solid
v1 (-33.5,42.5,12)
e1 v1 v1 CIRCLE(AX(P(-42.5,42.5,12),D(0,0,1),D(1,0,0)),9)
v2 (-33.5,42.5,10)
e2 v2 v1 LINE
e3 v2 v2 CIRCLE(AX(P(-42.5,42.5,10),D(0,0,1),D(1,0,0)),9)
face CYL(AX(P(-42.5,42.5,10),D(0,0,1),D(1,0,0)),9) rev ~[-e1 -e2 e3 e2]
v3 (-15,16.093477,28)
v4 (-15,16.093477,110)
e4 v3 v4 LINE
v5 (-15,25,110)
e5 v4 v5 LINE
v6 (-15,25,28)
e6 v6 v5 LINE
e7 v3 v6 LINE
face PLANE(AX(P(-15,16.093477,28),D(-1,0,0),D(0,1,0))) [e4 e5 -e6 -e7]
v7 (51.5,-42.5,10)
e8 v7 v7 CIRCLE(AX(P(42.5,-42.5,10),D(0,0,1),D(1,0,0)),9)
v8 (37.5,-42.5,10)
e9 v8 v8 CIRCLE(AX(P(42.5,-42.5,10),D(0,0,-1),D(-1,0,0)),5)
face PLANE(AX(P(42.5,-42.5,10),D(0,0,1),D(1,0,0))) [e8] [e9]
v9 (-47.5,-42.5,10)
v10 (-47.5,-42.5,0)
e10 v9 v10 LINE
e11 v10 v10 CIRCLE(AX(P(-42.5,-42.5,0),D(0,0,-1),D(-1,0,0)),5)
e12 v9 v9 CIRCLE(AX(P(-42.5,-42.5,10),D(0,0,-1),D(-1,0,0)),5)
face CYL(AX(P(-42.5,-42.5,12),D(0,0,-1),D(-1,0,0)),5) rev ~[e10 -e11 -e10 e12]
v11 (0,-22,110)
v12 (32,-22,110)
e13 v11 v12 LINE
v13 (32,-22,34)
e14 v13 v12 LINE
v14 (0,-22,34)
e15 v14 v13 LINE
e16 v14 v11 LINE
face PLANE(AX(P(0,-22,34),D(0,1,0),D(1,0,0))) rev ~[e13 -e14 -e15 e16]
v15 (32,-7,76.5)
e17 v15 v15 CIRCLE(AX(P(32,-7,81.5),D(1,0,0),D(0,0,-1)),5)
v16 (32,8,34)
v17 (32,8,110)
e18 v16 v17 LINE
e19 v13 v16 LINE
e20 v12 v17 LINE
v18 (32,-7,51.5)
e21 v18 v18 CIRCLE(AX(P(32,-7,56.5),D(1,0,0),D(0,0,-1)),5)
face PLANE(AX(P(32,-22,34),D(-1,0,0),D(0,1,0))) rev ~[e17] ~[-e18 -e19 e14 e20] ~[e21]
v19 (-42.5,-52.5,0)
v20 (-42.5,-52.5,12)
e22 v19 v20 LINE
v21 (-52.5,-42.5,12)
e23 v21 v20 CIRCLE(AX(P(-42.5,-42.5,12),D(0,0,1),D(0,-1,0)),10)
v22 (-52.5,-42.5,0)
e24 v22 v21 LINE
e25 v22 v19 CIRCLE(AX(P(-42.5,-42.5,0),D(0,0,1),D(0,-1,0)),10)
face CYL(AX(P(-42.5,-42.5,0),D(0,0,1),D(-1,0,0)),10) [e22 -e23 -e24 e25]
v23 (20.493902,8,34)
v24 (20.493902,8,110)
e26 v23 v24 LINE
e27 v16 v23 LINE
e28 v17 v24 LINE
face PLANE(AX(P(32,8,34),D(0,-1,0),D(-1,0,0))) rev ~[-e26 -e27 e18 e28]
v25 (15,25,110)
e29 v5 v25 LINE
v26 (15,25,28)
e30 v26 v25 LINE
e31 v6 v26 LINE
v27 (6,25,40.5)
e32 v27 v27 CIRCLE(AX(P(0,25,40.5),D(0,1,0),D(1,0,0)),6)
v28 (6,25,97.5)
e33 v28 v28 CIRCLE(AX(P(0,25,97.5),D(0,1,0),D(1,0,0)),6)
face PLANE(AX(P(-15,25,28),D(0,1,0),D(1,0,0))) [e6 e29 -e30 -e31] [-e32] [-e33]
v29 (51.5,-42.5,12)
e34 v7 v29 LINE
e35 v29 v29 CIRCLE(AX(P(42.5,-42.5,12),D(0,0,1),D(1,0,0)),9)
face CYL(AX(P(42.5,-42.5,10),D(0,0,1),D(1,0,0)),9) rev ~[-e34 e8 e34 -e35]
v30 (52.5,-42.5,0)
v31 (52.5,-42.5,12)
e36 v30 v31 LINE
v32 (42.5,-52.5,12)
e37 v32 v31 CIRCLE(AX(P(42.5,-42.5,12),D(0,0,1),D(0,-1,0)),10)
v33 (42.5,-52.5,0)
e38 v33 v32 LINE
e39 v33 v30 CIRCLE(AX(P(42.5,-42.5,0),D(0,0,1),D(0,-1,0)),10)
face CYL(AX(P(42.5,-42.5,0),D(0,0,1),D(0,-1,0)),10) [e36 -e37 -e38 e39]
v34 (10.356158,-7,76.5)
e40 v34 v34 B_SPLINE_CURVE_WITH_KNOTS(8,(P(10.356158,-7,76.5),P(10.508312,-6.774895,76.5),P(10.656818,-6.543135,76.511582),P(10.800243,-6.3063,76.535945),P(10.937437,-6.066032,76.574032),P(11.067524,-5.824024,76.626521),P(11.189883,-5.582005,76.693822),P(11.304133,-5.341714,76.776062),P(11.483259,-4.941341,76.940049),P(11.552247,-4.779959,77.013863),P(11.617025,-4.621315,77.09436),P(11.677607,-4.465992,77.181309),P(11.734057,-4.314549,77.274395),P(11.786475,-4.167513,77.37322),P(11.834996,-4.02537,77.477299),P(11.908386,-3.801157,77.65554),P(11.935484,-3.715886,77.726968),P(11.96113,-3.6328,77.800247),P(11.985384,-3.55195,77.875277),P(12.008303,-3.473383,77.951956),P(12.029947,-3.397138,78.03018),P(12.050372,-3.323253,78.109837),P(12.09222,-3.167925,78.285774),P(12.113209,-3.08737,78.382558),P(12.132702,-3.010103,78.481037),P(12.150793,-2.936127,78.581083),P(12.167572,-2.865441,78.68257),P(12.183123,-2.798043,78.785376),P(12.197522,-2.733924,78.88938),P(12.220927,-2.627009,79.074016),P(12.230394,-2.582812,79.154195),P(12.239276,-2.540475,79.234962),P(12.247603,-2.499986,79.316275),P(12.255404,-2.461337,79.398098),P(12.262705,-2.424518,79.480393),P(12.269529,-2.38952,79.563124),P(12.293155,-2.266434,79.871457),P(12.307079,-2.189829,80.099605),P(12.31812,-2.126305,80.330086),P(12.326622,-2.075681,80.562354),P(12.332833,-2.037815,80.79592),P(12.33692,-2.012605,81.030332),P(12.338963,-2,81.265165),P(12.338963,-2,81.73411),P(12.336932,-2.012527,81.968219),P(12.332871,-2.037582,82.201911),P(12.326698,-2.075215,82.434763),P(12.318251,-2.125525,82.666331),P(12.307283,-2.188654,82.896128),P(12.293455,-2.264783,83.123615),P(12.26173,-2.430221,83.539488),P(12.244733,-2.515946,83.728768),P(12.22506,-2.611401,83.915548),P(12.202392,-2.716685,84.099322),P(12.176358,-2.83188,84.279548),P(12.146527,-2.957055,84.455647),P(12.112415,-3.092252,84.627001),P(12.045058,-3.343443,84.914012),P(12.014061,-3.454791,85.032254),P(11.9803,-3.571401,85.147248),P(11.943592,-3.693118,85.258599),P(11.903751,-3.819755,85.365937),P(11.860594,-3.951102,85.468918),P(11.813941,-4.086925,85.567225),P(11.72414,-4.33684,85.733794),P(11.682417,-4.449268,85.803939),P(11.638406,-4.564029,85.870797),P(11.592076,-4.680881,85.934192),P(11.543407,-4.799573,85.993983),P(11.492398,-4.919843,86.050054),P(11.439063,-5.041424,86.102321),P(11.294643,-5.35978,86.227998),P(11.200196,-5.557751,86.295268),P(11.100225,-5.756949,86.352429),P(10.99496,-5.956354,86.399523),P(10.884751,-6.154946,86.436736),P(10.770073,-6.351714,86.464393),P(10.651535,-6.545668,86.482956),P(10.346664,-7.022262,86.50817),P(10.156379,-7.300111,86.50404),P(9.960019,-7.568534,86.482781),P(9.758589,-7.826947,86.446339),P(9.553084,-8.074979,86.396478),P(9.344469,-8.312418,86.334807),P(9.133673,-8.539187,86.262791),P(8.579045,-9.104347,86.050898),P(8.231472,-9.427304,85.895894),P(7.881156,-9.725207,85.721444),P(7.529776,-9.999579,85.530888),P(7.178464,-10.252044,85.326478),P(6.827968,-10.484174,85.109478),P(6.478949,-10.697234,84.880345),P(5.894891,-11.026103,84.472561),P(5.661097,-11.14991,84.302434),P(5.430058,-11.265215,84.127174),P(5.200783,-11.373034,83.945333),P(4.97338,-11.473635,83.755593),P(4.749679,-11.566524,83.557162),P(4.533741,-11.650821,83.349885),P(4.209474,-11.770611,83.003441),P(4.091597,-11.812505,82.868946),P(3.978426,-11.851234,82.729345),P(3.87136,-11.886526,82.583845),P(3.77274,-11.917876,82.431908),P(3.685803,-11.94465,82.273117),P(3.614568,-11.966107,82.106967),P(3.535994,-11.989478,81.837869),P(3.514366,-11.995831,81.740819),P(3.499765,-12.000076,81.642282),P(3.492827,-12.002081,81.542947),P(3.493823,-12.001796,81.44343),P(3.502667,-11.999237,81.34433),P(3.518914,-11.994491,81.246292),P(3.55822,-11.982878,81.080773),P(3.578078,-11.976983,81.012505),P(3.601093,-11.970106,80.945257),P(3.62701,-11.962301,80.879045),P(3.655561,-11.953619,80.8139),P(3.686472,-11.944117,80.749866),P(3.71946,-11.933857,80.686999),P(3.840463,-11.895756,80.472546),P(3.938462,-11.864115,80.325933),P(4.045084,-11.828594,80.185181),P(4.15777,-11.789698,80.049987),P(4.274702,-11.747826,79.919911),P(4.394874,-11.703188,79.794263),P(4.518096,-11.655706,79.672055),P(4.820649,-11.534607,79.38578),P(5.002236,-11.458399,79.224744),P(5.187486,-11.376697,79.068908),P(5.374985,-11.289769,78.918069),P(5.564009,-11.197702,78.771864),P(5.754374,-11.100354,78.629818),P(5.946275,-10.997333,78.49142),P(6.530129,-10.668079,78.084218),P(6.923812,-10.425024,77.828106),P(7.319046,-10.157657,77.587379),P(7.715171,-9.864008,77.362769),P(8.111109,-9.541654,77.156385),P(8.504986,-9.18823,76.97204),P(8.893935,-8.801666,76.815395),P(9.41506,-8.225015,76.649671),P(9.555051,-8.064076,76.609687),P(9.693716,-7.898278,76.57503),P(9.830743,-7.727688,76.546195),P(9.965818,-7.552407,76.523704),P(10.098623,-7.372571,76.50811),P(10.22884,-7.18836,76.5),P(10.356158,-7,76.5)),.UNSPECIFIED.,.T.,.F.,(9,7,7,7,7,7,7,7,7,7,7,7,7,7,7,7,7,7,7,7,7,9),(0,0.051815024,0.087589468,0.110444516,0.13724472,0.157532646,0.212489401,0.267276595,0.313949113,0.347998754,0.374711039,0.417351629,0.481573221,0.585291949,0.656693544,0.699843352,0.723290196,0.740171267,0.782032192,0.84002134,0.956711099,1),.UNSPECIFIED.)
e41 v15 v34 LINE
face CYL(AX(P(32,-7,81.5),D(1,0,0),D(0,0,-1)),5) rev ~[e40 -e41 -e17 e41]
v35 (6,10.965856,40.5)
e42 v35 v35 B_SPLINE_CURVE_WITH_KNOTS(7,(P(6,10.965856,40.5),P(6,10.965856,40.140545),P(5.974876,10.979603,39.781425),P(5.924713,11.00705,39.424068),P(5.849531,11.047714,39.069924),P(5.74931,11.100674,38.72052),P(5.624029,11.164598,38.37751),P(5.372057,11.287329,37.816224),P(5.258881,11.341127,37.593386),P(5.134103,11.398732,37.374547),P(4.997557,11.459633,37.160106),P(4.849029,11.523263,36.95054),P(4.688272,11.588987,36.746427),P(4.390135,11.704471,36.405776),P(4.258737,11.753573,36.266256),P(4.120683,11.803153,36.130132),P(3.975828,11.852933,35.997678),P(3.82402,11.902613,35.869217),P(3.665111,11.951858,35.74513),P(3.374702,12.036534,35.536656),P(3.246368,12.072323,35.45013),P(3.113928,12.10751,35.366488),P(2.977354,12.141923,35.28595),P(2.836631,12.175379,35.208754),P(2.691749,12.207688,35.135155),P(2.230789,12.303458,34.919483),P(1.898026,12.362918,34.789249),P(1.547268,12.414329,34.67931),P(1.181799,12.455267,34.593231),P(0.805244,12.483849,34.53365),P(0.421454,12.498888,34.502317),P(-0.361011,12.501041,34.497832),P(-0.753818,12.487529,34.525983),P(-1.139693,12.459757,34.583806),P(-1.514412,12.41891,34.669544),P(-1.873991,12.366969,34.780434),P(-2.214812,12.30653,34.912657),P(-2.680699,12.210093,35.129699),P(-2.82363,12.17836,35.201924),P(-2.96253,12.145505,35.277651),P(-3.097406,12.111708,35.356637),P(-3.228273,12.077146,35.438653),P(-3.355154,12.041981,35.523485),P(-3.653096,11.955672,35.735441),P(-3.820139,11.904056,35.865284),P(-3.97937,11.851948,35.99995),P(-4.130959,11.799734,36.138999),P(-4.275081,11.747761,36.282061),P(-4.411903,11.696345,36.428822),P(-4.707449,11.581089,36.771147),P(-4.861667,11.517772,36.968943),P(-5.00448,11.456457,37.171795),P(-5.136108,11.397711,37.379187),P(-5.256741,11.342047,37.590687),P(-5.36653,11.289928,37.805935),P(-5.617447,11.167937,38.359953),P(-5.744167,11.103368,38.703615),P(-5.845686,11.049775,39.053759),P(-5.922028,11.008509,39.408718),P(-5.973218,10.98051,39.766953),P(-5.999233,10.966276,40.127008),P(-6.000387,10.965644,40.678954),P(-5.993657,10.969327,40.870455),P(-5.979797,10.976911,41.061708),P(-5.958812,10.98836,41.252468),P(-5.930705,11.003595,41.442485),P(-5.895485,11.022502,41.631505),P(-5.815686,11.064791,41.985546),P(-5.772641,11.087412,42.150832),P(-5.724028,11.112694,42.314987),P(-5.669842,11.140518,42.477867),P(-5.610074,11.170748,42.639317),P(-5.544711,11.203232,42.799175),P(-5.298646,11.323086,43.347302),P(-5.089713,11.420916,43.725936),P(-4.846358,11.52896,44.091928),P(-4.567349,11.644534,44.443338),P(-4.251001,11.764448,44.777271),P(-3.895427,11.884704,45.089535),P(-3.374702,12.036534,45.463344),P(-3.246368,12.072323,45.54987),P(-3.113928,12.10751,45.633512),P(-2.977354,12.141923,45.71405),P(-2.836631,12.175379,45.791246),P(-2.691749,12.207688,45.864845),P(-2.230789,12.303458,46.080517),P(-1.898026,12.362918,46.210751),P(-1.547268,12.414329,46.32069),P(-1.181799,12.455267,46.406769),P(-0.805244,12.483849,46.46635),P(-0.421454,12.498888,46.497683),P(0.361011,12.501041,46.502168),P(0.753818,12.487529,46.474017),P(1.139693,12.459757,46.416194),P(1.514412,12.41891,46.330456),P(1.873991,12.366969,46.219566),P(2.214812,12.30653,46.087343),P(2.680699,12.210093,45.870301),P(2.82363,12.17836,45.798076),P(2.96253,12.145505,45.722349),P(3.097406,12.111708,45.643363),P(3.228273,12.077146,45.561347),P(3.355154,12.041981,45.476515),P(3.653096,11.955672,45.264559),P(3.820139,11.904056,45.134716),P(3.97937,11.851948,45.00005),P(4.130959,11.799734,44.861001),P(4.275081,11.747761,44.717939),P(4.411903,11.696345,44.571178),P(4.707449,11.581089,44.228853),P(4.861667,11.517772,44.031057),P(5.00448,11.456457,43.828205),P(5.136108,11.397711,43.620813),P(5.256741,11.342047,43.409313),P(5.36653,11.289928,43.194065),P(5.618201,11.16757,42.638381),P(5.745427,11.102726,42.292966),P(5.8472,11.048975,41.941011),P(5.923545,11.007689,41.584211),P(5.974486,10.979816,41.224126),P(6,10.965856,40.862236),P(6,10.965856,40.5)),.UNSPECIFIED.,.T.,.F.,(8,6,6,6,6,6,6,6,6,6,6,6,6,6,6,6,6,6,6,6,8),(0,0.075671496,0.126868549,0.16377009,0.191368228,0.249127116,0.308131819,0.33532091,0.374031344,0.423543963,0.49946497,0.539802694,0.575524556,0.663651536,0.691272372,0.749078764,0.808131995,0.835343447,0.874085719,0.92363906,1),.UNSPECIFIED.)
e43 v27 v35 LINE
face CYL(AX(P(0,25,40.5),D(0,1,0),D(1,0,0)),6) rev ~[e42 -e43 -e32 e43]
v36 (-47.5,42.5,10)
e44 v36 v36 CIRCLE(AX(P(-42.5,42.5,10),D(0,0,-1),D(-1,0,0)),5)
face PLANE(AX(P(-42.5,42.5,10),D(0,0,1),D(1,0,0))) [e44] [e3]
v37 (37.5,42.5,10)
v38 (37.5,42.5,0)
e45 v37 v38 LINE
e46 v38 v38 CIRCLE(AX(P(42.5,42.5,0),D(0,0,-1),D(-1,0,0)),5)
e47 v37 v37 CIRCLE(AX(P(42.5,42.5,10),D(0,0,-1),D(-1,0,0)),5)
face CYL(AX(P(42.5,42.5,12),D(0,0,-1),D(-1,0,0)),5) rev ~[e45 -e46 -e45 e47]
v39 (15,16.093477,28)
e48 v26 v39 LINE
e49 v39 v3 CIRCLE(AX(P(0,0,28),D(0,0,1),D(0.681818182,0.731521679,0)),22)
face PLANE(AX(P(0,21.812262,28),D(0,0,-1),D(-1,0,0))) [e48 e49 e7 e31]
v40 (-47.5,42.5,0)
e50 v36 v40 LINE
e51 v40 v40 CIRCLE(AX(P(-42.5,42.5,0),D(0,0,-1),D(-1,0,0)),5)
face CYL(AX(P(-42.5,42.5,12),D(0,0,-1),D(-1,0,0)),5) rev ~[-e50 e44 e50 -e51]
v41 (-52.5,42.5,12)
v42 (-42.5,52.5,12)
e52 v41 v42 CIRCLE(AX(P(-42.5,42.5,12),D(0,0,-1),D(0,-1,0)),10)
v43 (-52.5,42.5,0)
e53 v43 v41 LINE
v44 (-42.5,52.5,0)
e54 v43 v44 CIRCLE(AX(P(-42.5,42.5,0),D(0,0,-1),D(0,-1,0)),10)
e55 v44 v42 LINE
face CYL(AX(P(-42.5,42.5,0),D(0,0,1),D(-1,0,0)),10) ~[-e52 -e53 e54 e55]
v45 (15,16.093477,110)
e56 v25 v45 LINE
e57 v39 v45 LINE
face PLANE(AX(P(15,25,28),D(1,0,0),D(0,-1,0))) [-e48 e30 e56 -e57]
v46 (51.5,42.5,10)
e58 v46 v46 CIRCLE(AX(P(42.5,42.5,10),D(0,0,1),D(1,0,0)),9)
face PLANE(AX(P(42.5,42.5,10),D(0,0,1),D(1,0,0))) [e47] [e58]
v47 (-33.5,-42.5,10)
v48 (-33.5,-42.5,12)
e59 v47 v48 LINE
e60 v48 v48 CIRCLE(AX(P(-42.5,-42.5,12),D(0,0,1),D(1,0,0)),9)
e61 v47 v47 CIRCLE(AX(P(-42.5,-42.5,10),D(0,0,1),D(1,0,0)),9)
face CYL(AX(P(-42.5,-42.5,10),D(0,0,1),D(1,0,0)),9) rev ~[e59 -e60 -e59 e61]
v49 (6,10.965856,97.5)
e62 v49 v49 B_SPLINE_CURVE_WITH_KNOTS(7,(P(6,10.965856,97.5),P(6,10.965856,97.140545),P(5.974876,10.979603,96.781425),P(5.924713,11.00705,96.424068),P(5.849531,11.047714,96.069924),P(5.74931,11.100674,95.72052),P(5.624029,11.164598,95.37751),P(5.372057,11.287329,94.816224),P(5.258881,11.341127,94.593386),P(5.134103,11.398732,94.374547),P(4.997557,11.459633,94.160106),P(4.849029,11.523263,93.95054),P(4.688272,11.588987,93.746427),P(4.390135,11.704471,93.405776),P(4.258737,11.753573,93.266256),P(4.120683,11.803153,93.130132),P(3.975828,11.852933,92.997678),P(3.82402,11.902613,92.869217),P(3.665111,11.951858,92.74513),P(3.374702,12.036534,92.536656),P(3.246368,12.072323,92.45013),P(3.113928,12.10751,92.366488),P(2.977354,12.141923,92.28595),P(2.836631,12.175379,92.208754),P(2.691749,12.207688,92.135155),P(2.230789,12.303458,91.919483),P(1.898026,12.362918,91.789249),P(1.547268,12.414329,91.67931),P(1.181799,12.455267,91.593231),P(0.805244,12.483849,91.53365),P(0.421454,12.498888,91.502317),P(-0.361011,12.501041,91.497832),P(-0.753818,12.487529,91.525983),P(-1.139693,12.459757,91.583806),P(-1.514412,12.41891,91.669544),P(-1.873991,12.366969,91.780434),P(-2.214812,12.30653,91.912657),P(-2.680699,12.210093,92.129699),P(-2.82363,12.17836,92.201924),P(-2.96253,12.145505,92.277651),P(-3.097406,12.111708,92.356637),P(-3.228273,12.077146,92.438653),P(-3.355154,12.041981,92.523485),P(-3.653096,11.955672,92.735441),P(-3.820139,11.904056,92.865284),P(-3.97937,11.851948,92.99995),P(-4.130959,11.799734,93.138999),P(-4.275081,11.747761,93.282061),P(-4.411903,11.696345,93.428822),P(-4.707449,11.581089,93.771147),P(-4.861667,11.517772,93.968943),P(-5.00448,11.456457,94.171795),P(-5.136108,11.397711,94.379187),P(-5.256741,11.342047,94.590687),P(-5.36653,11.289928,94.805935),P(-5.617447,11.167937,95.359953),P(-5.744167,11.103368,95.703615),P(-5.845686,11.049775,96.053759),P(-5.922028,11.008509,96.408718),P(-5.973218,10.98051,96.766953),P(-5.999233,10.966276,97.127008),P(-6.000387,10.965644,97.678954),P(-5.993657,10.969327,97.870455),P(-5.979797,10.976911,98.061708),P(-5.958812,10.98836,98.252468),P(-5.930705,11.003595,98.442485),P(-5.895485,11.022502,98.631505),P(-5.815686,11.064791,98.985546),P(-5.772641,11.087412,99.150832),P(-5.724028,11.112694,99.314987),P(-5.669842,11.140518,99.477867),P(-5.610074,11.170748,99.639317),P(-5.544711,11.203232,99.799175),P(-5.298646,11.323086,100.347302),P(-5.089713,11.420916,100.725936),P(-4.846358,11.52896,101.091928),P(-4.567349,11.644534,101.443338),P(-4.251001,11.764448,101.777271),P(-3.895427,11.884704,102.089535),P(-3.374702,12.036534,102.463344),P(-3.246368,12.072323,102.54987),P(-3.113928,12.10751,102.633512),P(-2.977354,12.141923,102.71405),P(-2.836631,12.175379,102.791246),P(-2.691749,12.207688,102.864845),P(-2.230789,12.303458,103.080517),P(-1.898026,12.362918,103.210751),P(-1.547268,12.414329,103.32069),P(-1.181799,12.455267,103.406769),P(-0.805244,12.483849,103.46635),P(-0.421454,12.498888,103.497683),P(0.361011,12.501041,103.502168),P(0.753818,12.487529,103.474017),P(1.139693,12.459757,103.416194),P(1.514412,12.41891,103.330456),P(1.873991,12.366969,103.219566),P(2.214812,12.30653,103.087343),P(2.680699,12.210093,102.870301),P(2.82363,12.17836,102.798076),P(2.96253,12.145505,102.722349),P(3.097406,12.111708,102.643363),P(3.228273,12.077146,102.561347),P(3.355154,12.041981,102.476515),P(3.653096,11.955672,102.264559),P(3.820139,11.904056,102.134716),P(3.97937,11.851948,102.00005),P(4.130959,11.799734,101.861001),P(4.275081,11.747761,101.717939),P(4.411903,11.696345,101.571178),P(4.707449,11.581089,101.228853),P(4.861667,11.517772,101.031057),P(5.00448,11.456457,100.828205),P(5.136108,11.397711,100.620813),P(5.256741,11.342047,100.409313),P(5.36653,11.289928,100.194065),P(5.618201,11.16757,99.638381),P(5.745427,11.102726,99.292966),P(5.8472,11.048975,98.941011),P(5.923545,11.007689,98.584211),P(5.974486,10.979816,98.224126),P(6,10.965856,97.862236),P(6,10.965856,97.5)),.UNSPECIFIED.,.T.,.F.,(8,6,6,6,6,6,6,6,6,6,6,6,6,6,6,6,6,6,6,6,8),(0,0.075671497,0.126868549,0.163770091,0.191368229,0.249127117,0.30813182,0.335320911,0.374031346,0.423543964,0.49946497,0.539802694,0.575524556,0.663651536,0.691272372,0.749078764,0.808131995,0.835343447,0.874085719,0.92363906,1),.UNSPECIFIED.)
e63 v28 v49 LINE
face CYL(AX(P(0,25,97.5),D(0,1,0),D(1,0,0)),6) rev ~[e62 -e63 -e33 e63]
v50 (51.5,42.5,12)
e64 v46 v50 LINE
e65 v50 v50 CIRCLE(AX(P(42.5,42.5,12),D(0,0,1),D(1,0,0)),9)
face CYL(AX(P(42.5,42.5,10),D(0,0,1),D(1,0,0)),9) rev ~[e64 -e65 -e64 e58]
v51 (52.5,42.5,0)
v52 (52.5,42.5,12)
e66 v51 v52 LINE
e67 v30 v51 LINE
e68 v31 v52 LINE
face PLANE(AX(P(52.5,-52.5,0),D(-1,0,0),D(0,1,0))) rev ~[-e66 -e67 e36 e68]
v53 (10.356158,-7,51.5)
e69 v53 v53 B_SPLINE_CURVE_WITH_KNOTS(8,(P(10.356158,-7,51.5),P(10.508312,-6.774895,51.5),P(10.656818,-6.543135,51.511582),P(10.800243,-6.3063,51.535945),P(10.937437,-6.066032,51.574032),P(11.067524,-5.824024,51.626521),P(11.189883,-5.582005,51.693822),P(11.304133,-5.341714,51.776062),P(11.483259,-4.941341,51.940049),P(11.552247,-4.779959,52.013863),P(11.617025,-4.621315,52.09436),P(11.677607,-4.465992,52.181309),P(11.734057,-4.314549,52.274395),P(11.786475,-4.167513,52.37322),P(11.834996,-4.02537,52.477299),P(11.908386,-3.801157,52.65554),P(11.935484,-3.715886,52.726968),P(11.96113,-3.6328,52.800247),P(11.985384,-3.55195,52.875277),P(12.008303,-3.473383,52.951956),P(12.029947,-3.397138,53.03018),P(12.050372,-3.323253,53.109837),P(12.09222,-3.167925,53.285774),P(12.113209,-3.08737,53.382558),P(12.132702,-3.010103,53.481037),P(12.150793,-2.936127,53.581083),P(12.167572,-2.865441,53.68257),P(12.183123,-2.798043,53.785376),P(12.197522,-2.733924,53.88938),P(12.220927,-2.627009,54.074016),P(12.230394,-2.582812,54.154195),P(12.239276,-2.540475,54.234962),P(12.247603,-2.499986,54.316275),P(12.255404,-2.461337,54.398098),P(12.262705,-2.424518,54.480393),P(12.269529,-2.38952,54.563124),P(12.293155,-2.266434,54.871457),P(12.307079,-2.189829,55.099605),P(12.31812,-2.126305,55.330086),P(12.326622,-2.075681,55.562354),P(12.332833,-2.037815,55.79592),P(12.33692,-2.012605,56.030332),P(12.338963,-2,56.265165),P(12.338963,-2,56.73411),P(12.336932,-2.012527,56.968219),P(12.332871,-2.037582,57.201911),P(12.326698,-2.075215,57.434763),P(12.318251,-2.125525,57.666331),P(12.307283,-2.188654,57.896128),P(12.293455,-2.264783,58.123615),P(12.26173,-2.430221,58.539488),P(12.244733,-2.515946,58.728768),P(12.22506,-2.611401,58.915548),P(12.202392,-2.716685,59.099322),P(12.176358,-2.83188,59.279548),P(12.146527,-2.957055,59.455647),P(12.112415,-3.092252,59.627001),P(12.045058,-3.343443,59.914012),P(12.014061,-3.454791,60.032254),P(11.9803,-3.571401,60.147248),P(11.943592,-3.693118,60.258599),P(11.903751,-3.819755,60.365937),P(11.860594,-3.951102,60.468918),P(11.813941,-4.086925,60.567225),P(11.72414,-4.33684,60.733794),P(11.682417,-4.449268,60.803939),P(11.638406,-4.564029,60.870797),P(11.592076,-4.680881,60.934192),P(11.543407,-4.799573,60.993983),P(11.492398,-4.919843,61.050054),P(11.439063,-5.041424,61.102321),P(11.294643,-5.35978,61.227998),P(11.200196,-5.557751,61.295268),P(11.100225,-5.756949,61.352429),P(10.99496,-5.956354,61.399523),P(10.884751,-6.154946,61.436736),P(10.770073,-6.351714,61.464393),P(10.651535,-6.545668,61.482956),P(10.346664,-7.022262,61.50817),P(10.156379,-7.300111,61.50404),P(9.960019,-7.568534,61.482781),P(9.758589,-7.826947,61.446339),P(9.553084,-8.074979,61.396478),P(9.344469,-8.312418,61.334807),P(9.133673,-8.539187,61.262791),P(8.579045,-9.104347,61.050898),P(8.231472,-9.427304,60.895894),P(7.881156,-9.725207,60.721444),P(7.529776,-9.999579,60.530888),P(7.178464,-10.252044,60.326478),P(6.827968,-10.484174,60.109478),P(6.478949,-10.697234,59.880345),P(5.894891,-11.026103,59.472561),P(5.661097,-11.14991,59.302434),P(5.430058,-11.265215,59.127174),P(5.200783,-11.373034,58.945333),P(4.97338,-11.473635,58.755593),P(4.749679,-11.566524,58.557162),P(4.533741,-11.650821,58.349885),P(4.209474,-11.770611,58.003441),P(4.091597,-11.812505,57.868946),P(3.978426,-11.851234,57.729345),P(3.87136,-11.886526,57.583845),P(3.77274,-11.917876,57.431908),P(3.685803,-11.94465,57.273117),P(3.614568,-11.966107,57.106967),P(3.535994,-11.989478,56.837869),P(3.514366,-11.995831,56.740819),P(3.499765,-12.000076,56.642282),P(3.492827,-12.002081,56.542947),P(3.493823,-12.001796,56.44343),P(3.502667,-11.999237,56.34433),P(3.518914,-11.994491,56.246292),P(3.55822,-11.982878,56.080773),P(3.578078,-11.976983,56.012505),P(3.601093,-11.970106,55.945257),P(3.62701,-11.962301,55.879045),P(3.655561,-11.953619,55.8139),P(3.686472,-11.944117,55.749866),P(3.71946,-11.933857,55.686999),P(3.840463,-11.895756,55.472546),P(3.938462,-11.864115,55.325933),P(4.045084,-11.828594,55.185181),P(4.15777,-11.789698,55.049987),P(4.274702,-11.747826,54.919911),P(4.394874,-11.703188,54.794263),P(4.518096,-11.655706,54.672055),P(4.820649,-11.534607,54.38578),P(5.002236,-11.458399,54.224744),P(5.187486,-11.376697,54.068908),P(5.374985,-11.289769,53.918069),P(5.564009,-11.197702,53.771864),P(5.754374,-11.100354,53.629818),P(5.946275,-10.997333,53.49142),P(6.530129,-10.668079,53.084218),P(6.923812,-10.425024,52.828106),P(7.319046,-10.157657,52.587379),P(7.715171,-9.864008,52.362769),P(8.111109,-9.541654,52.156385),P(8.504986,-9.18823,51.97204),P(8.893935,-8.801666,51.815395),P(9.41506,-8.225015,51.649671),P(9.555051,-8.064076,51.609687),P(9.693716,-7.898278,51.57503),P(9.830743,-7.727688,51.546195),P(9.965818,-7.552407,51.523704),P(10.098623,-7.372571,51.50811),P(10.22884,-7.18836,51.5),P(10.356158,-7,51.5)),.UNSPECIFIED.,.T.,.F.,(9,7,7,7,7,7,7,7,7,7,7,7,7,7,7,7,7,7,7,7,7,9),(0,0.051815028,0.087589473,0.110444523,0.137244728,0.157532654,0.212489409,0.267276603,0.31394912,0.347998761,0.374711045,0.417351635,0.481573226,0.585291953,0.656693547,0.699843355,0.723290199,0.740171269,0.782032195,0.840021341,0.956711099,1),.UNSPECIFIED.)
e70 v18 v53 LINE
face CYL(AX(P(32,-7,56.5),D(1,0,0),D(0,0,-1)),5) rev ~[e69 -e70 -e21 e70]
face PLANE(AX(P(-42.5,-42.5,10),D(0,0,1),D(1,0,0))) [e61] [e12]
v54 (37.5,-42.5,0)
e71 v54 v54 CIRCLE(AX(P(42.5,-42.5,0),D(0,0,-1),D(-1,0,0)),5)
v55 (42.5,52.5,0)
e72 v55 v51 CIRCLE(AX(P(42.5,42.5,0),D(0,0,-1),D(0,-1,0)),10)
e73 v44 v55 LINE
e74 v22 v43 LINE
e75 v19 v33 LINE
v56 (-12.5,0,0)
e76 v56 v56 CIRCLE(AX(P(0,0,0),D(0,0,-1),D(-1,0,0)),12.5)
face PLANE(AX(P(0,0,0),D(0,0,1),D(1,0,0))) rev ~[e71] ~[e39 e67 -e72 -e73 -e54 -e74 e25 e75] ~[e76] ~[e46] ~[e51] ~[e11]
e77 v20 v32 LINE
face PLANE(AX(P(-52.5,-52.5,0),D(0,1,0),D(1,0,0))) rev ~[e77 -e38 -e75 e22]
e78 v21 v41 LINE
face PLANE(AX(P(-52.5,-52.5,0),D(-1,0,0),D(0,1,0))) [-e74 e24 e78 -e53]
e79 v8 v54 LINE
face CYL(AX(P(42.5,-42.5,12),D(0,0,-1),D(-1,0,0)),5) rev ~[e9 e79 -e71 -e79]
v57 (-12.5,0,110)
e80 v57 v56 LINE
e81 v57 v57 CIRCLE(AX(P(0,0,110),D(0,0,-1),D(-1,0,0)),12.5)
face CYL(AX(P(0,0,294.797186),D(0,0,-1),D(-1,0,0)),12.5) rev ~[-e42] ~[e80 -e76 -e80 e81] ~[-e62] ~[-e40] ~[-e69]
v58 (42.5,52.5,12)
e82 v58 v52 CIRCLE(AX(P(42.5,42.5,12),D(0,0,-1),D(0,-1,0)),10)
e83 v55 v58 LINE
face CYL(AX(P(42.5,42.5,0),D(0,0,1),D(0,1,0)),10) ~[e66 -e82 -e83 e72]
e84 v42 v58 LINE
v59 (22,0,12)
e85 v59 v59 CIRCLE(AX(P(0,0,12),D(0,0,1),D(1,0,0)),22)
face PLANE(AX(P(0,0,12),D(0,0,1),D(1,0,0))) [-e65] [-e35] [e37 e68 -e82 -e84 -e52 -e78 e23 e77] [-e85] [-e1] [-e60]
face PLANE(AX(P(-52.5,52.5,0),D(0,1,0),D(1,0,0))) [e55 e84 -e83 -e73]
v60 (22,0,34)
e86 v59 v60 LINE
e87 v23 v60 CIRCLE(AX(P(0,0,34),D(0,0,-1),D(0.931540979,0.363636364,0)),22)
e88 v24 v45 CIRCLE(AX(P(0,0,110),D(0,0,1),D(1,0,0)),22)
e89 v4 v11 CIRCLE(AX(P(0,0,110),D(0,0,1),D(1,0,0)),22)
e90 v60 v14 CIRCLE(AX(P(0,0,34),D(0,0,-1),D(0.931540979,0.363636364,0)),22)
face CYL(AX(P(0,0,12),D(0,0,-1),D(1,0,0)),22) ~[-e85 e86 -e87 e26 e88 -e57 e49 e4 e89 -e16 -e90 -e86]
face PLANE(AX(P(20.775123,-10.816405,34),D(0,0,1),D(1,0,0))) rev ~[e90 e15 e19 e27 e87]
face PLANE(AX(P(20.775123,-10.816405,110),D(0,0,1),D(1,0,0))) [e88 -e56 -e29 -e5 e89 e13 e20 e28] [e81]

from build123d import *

# Parameters (mm, degrees)
SKETCH1_W           = 105
SKETCH1_H           = 105
BOSS_EXTRUDE1_DEPTH = 12
SKETCH2_R           = 22
BOSS_EXTRUDE2_DEPTH = 98
BOSS_EXTRUDE3_START = -82
BOSS_EXTRUDE3_DEPTH = 82
HOLE1_D             = 25
HOLE2_REACH         = 146.439
HOLE2_BORE_R        = 6
BOSS_EXTRUDE4_START = -76
BOSS_EXTRUDE4_DEPTH = 76
HOLE3_REACH         = 150.312
HOLE3_BORE_R        = 5
FILLET1_R           = 10
HOLE4_D             = 10
HOLE4_CBORE_D       = 18
HOLE4_CBORE_DEPTH   = 2


with BuildPart() as part:
    # Sketch1 → Boss-Extrude1 (new body)
    with BuildSketch(Plane.XY):
        Rectangle(SKETCH1_W, SKETCH1_H)
    extrude(amount=BOSS_EXTRUDE1_DEPTH)

    # Sketch2 → Boss-Extrude2 (add)
    with BuildSketch(Plane.XY.offset(12)):
        Circle(SKETCH2_R)
    extrude(amount=BOSS_EXTRUDE2_DEPTH)

    # Sketch3 → Boss-Extrude3 (add)
    with BuildSketch(Plane.XY.offset(110).offset(BOSS_EXTRUDE3_START)):
        with BuildLine():
            Line((-15, 16.093476939), (-15, 25))
            Line((-15, 25), (15, 25))
            Line((15, 25), (15, 16.093476939))
            ThreePointArc((15, 16.093476939), (0, 22), (-15, 16.093476939))
        make_face()
    extrude(amount=BOSS_EXTRUDE3_DEPTH)

    # Hole1 (through all)
    with Locations(Plane.XY.offset(110)):
        with Locations((0, 0)):
            Hole(HOLE1_D / 2)

    # Hole2 bore → Hole2 (cut, up to next)
    with BuildSketch(Plane(origin=(0, 25, 0), x_dir=(1, 0, 0), z_dir=(0, 1, 0)), mode=Mode.PRIVATE) as hole2_sk1:
        with Locations((0, -40.5)):
            Circle(HOLE2_BORE_R)
    hole2_tool1 = extrude(hole2_sk1.sketch, amount=-HOLE2_REACH, mode=Mode.PRIVATE) & part.part
    # Hole2 bore → Hole2 (cut, up to next)
    with BuildSketch(Plane(origin=(0, 25, 0), x_dir=(1, 0, 0), z_dir=(0, 1, 0)), mode=Mode.PRIVATE) as hole2_sk2:
        with Locations((0, -97.5)):
            Circle(HOLE2_BORE_R)
    hole2_tool2 = extrude(hole2_sk2.sketch, amount=-HOLE2_REACH, mode=Mode.PRIVATE) & part.part
    add(hole2_tool1.solids().sort_by_distance((0, 25, 40.5))[0], mode=Mode.SUBTRACT)
    add(hole2_tool2.solids().sort_by_distance((0, 25, 97.5))[0], mode=Mode.SUBTRACT)

    # Sketch9 → Boss-Extrude4 (add)
    with BuildSketch(Plane.XY.offset(110).offset(BOSS_EXTRUDE4_START)):
        with BuildLine():
            Line((0, -22), (32, -22))
            Line((32, -22), (32, 8))
            Line((32, 8), (20.493901532, 8))
            ThreePointArc((20.493901532, 8), (18.165902125, -12.409673646), (0, -22))
        make_face()
    extrude(amount=BOSS_EXTRUDE4_DEPTH)

    # Hole3 bore → Hole3 (cut, up to next)
    with BuildSketch(Plane(origin=(32, 0, 0), x_dir=(0, 0, -1), z_dir=(1, 0, 0)), mode=Mode.PRIVATE) as hole3_sk1:
        with Locations((-81.5, -7)):
            Circle(HOLE3_BORE_R)
    hole3_tool1 = extrude(hole3_sk1.sketch, amount=-HOLE3_REACH, mode=Mode.PRIVATE) & part.part
    # Hole3 bore → Hole3 (cut, up to next)
    with BuildSketch(Plane(origin=(32, 0, 0), x_dir=(0, 0, -1), z_dir=(1, 0, 0)), mode=Mode.PRIVATE) as hole3_sk2:
        with Locations((-56.5, -7)):
            Circle(HOLE3_BORE_R)
    hole3_tool2 = extrude(hole3_sk2.sketch, amount=-HOLE3_REACH, mode=Mode.PRIVATE) & part.part
    add(hole3_tool1.solids().sort_by_distance((32, -7, 81.5))[0], mode=Mode.SUBTRACT)
    add(hole3_tool2.solids().sort_by_distance((32, -7, 56.5))[0], mode=Mode.SUBTRACT)

    # Fillet1
    fillet1_edges = [part.edges().sort_by_distance(p)[0] for p in [
        (52.5, -52.5, 6),
        (-52.5, -52.5, 6),
        (-52.5, 52.5, 6),
        (52.5, 52.5, 6),
    ]]
    fillet(fillet1_edges, radius=FILLET1_R)

    # Hole4 (through all)
    with Locations(Plane.XY.offset(12)):
        with Locations((42.5, -42.5), (42.5, 42.5), (-42.5, 42.5), (-42.5, -42.5)):
            CounterBoreHole(HOLE4_D / 2, HOLE4_CBORE_D / 2, HOLE4_CBORE_DEPTH)


solid = part.part
